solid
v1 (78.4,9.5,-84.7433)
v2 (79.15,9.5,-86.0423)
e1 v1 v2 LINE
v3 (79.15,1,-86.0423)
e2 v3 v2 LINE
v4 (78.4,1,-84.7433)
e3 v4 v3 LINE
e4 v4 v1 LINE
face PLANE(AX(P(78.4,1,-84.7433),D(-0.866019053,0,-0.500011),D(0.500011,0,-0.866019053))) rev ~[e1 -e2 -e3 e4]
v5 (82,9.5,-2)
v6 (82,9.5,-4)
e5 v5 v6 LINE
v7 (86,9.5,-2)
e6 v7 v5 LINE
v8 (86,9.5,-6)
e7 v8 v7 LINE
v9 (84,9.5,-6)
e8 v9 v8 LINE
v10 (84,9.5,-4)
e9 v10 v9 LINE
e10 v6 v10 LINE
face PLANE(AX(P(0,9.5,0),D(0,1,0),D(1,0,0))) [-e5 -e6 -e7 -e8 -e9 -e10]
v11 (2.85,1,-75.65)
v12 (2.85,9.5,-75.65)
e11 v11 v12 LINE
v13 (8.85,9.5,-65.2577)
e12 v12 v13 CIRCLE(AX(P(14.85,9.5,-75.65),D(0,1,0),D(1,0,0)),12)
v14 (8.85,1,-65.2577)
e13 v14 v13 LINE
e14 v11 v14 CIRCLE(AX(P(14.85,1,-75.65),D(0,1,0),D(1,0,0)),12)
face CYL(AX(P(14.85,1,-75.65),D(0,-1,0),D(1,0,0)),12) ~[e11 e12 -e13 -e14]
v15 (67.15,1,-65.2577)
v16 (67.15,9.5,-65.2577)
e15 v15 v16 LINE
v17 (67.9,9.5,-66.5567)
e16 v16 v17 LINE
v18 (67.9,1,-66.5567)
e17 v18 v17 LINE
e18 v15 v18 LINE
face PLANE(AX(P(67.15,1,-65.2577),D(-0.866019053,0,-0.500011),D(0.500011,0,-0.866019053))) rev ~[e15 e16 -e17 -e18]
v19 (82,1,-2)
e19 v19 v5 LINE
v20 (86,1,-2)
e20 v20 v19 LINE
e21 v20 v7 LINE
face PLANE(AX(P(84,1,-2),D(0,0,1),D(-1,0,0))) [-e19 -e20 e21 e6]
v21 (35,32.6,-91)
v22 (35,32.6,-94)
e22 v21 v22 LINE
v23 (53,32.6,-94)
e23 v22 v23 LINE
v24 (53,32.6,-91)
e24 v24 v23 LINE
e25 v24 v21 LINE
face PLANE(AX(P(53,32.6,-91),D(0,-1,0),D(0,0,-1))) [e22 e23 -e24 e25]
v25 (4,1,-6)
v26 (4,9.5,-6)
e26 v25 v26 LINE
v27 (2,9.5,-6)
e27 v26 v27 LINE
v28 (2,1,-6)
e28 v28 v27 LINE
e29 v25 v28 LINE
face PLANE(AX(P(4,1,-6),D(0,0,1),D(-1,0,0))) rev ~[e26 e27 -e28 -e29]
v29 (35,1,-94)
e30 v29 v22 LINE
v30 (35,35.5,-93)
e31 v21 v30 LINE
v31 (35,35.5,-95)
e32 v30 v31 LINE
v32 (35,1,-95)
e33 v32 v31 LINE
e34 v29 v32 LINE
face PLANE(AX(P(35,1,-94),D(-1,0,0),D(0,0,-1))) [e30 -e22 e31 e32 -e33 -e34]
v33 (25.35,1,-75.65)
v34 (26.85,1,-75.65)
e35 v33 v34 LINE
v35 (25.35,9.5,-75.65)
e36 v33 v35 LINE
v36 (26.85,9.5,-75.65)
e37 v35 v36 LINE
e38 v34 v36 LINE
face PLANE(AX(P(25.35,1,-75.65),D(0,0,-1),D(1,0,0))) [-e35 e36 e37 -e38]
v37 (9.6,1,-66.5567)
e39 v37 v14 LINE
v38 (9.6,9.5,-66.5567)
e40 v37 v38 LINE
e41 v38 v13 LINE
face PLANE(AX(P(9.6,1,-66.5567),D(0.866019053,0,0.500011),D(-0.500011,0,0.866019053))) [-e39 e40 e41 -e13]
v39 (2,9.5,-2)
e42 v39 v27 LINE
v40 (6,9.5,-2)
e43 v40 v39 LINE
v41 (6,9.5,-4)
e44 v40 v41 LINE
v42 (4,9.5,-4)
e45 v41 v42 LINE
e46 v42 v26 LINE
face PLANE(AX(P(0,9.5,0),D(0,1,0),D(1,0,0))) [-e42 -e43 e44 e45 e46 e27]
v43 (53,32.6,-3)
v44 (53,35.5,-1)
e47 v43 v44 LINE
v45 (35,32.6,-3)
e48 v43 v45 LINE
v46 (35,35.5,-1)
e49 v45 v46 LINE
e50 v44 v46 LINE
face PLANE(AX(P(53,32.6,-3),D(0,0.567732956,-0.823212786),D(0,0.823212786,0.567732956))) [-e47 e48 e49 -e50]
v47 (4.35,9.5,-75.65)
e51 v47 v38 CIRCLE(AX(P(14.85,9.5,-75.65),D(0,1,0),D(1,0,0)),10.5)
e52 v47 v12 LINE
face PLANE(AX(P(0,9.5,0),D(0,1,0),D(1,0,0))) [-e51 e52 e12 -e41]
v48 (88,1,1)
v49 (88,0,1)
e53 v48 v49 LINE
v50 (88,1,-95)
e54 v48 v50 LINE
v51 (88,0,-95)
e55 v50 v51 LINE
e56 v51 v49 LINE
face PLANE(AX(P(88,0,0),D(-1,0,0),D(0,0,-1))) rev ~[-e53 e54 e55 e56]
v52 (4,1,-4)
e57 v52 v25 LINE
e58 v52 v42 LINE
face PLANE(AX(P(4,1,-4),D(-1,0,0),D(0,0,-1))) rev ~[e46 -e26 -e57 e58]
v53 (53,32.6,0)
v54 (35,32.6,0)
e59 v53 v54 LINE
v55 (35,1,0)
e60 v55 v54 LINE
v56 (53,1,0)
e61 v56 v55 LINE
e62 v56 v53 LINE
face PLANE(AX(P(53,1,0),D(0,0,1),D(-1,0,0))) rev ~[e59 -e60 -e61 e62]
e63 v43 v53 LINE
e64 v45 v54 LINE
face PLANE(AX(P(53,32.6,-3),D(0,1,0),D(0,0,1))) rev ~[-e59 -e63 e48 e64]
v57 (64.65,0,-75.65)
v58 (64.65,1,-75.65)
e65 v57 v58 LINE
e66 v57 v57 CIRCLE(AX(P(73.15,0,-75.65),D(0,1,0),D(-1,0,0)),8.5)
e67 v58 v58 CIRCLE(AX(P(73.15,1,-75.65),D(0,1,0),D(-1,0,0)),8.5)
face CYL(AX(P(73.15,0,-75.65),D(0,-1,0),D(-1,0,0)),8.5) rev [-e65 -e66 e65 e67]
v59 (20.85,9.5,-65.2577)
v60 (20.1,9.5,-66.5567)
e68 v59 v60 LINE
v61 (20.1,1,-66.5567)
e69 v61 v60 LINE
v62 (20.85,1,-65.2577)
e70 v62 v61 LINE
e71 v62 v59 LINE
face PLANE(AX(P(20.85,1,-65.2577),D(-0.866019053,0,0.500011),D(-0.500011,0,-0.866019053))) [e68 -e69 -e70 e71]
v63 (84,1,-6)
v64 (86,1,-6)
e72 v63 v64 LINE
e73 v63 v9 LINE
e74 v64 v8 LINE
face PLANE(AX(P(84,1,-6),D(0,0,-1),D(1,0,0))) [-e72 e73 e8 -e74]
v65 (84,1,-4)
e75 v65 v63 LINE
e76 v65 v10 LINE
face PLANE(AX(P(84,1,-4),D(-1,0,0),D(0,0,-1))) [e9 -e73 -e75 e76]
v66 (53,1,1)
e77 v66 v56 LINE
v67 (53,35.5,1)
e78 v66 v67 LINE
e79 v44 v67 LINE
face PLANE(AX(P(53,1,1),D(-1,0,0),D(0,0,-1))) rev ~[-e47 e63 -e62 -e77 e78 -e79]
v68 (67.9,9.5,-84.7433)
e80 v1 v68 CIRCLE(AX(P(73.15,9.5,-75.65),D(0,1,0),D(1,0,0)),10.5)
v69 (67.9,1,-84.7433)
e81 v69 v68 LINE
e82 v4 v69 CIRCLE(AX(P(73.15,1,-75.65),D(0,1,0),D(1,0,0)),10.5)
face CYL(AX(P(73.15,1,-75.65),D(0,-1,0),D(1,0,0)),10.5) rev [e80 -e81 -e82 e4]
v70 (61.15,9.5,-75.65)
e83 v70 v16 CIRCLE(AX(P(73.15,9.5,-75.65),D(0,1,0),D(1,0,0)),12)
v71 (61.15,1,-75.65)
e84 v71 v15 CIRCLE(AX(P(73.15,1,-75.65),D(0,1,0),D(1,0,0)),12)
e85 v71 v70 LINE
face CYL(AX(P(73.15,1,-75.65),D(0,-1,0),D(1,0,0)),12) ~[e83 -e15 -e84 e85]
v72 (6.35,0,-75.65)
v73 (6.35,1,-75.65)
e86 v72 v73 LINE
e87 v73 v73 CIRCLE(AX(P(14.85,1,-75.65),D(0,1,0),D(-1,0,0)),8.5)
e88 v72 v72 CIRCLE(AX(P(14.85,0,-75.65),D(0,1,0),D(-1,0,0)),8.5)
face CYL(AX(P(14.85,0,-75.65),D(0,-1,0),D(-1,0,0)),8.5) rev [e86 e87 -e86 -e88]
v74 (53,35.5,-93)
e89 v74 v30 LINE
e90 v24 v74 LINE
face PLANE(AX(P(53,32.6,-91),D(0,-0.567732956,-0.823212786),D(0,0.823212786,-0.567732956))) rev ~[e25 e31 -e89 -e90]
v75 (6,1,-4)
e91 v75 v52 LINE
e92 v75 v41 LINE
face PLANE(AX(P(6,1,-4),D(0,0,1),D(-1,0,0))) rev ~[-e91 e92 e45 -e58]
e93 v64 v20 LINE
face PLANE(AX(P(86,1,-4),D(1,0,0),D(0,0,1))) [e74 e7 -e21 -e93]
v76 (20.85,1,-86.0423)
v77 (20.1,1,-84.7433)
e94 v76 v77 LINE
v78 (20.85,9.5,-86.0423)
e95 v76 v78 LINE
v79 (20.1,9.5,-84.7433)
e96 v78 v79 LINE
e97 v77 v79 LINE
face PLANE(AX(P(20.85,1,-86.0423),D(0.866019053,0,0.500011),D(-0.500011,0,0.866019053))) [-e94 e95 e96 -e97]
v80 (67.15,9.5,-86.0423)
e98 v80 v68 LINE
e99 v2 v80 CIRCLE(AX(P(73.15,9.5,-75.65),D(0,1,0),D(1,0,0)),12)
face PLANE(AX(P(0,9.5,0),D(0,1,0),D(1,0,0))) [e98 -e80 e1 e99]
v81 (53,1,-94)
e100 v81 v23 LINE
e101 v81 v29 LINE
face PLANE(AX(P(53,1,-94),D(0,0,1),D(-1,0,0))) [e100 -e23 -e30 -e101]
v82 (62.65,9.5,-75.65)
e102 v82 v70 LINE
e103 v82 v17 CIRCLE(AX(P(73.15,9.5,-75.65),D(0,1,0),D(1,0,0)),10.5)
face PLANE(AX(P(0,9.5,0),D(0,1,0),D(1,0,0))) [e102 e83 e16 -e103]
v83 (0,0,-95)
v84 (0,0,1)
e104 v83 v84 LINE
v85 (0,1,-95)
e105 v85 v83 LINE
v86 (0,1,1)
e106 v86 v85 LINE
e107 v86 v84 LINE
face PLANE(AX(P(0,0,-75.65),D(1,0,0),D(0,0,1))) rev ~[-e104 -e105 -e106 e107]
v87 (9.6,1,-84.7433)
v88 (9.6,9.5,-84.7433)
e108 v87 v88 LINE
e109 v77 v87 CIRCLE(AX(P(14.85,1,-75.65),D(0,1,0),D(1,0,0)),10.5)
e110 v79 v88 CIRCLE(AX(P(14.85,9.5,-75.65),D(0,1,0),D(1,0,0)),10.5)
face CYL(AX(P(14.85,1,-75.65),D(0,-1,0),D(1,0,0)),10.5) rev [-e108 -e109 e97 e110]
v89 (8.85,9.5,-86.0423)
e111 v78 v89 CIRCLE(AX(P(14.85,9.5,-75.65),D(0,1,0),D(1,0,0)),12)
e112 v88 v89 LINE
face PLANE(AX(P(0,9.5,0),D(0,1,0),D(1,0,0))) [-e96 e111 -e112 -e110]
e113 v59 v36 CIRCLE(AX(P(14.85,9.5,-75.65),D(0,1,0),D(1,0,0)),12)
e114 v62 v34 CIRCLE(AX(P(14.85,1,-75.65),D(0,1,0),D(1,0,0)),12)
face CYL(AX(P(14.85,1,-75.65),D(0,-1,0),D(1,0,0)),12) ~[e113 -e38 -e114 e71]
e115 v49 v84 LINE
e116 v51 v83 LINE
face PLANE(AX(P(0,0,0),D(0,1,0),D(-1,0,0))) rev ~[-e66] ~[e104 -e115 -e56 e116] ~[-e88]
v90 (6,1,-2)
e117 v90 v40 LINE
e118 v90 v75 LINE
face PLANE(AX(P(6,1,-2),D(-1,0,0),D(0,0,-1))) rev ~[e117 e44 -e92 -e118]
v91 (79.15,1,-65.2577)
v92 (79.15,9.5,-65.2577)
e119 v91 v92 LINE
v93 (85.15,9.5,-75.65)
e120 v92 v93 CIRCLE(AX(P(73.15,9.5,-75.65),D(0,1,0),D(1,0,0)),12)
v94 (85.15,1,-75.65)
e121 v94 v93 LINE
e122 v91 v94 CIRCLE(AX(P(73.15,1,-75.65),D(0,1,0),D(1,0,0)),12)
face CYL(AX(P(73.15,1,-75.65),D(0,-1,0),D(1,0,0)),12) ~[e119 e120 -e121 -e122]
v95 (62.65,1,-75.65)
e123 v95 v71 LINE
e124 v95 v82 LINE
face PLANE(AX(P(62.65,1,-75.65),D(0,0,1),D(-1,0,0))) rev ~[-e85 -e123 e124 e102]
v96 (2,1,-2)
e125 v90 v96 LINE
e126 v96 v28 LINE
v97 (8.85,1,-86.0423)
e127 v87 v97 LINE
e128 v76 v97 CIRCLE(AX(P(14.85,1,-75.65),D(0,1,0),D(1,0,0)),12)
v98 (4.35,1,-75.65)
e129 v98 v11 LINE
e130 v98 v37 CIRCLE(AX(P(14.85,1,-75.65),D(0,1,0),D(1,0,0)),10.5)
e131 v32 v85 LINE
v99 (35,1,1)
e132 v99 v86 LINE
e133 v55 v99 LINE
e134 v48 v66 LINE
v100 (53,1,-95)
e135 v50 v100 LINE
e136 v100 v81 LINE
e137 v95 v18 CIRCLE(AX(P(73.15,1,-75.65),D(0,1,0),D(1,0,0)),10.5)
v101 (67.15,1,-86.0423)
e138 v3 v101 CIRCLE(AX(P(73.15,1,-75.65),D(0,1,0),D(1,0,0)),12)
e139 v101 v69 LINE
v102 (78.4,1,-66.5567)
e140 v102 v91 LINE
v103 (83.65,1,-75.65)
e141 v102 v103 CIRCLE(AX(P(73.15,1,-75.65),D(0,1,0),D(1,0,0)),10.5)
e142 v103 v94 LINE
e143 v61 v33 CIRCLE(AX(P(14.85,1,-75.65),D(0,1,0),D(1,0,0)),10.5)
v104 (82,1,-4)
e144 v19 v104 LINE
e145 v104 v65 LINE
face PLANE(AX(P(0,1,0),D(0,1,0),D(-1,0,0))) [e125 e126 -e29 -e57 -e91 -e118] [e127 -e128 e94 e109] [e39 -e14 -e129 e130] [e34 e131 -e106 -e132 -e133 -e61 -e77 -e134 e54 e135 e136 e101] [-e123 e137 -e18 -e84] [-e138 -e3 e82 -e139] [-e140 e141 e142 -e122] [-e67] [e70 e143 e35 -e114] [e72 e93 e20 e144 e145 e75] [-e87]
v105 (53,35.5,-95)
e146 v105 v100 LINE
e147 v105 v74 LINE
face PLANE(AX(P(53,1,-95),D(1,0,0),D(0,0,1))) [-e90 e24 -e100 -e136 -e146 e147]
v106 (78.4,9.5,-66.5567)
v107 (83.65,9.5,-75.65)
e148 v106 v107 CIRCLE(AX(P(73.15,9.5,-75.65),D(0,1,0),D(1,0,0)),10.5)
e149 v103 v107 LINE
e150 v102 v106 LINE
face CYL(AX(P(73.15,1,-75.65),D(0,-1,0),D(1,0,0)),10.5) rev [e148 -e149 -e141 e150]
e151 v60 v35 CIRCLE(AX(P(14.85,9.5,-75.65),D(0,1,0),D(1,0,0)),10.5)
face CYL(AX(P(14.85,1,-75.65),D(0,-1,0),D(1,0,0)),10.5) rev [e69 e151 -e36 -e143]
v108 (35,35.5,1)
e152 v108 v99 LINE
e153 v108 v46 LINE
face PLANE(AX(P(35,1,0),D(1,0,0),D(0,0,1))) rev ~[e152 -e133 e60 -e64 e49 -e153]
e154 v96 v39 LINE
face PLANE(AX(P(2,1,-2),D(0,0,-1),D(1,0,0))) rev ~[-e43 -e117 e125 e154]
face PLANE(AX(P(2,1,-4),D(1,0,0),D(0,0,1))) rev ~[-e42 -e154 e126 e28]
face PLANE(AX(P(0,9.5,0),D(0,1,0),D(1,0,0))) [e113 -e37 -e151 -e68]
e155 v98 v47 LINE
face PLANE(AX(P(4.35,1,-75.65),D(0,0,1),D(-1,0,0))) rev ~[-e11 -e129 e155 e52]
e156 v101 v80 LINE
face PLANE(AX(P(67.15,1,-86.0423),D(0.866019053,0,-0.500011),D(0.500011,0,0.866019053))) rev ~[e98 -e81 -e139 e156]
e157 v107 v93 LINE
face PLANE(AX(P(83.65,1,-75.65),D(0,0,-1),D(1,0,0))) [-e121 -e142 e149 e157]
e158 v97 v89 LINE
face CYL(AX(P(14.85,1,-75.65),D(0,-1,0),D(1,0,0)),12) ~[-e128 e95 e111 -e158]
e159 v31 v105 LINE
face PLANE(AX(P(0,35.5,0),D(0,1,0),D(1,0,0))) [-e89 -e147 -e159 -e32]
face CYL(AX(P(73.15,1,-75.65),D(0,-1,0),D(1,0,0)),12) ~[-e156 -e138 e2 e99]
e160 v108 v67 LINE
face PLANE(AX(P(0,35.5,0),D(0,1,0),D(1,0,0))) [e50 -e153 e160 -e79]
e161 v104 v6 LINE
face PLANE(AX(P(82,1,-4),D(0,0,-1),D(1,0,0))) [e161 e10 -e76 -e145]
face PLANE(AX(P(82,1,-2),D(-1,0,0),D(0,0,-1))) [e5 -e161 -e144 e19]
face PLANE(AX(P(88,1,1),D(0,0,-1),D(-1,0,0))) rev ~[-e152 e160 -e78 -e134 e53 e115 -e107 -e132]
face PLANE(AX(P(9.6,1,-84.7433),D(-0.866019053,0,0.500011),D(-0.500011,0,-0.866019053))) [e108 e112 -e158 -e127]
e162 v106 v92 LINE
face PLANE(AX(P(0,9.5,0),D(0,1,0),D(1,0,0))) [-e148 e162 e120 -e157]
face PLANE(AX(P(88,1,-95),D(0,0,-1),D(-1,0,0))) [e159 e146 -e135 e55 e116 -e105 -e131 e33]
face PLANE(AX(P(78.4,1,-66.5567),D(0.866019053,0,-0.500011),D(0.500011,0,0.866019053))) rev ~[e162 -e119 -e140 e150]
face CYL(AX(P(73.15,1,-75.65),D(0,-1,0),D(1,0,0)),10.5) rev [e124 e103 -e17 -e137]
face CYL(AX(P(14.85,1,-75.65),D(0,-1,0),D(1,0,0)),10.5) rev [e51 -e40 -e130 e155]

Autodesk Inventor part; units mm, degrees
ref_plane "YZ Plane" through (0, 0, 0) normal (1, 0, 0) x (0, 1, 0)
ref_plane "XZ Plane" through (0, 0, 0) normal (0, 1, 0) x (-1, 0, 0)
ref_plane "XY Plane" through (0, 0, 0) normal (0, 0, 1) x (1, 0, 0)
sketch "Sketch1" plane through (0, 0, 0) normal (0, 1, 0) x (-1, 0, 0)
  line L0 (0, 0) -> (-88, 0)
  line L1 (-88, 0) -> (-88, -94)
  line L2 (-88, -94) -> (0, -94)
  line L3 (0, -94) -> (0, 0)
  line L4 (0, -94) -> (0, -75.65)
  line L5 (0, -94) -> (-14.85, -94)
  circle A0 centre (-14.85, -75.65) radius 8.5
  line L6 (-44, -88.9444) -> (-44, -54.2543) construction
  circle A1 centre (-73.15, -75.65) radius 8.5
  dimension "d0" = 88
  dimension "d1" = 94
  dimension "d2" = 18.35
  dimension "d3" = 14.85
  dimension "d4" = 17
extrude "Extrusion1" add sketch "Sketch1" along normal blind 1
sketch "Sketch2" plane through (0, 1, 0) normal (0, 1, 0) x (1, 0, 0)
  line L0 (88, 94) -> (0, 94) construction
  line L1 (0, 94) -> (0, 0) construction
  line L2 (0, 0) -> (88, 0) construction
  line L3 (88, 0) -> (88, 94) construction
  circle A0 centre (73.15, 75.65) radius 8.5 construction
  circle A1 centre (14.85, 75.65) radius 8.5 construction
  line L4 (0, 94) -> (88, 94) construction
  line L5 (88, 94) -> (88, 95) construction
  line L6 (88, 95) -> (0, 95) construction
  line L7 (0, 95) -> (0, 94) construction
  line L8 (0, 0) -> (88, 0) construction
  line L9 (88, 0) -> (88, -1) construction
  line L10 (88, -1) -> (0, -1) construction
  line L11 (0, -1) -> (0, 0) construction
  line L12 (88, 95) -> (0, 95)
  line L13 (0, 95) -> (0, 94)
  line L14 (0, 94) -> (88, 94)
  line L15 (88, 94) -> (88, 95)
  line L16 (0, 0) -> (88, 0)
  line L17 (88, 0) -> (88, -1)
  line L18 (88, -1) -> (0, -1)
  line L19 (0, -1) -> (0, 0)
  dimension "d7" = 1
  dimension "d8" = 1
extrude "Extrusion2" add sketch "Sketch2" against normal blind 1
sketch "Sketch3" plane through (0, 1, 0) normal (0, 1, 0) x (1, 0, 0)
  line L0 (0, 95) -> (0, -1) construction
  line L1 (0, -1) -> (88, -1) construction
  line L2 (88, -1) -> (88, 95) construction
  line L3 (88, 95) -> (0, 95) construction
  circle A0 centre (73.15, 75.65) radius 8.5 construction
  circle A1 centre (14.85, 75.65) radius 8.5 construction
  line L4 (0, 0) -> (4, 0) construction
  line L5 (4, 0) -> (4, 4) construction
  line L6 (4, 4) -> (0, 4) construction
  line L7 (0, 4) -> (0, 0) construction
  line L8 (88, 0) -> (84, 0) construction
  line L9 (84, 0) -> (84, 4) construction
  line L10 (84, 4) -> (88, 4) construction
  line L11 (88, 4) -> (88, 0) construction
  line L12 (4, 4) -> (2, 4) construction
  line L13 (2, 4) -> (2, 2) construction
  line L14 (2, 2) -> (4, 2) construction
  line L15 (4, 2) -> (4, 4) construction
  line L16 (2, 2) -> (6, 2)
  line L17 (6, 2) -> (6, 4)
  line L18 (6, 4) -> (2, 4)
  line L19 (2, 4) -> (2, 2)
  line L20 (2, 2) -> (4, 2)
  line L21 (4, 2) -> (4, 6)
  line L22 (4, 6) -> (2, 6)
  line L23 (2, 6) -> (2, 2)
  line L24 (86, 2) -> (82, 2)
  line L25 (82, 2) -> (82, 4)
  line L26 (82, 4) -> (86, 4)
  line L27 (86, 4) -> (86, 2)
  line L28 (86, 2) -> (84, 2)
  line L29 (84, 2) -> (84, 6)
  line L30 (84, 6) -> (86, 6)
  line L31 (86, 6) -> (86, 2)
  line L32 (44, 4.3599) -> (37, 4.3599) construction
  line L33 (88, -1) -> (0, -1) construction
  line L34 (37, -1) -> (51, -1) construction
  line L35 (51, -1) -> (51, 0) construction
  line L36 (51, 0) -> (37, 0) construction
  line L37 (37, 0) -> (37, -1) construction
  line L38 (37, -1) -> (51, -1)
  line L39 (51, -1) -> (51, 0)
  line L40 (51, 0) -> (37, 0)
  line L41 (37, 0) -> (37, -1)
  line L42 (0, 95) -> (88, 95) projected
  line L43 (37, 95) -> (51, 95)
  line L44 (51, 95) -> (51, 94)
  line L45 (51, 94) -> (37, 94)
  line L46 (37, 94) -> (37, 95)
  circle A2 centre (14.85, 75.65) radius 10.5
  circle A3 centre (14.85, 75.65) radius 12
  line L47 (14.85, 75.65) -> (26.85, 75.65) construction
  line L48 (14.85, 75.65) -> (20.85, 86.0423) construction
  line L49 (14.85, 75.65) -> (8.85, 86.0423) construction
  line L50 (14.85, 75.65) -> (2.85, 75.65) construction
  line L51 (14.85, 75.65) -> (8.85, 65.2577) construction
  line L52 (14.85, 75.65) -> (20.85, 65.2577) construction
  line L53 (9.6, 84.7433) -> (8.85, 86.0423) construction
  line L54 (9.6, 84.7433) -> (8.85, 86.0423)
  line L55 (20.85, 86.0423) -> (20.1, 84.7433)
  line L56 (25.35, 75.65) -> (26.85, 75.65)
  line L57 (20.85, 65.2577) -> (20.1, 66.5567)
  line L58 (9.6, 66.5567) -> (8.85, 65.2577)
  line L59 (4.35, 75.65) -> (2.85, 75.65)
  line L60 (44, 84.7433) -> (44, 74.6259) construction
  circle A4 centre (73.15, 75.65) radius 8.5 construction
  circle A5 centre (73.15, 75.65) radius 10.5
  circle A6 centre (73.15, 75.65) radius 12
  line L61 (73.15, 75.65) -> (61.15, 75.65) construction
  line L62 (73.15, 75.65) -> (67.15, 86.0423) construction
  line L63 (73.15, 75.65) -> (79.15, 86.0423) construction
  line L64 (73.15, 75.65) -> (85.15, 75.65) construction
  line L65 (73.15, 75.65) -> (79.15, 65.2577) construction
  line L66 (73.15, 75.65) -> (67.15, 65.2577) construction
  line L67 (78.4, 84.7433) -> (79.15, 86.0423) construction
  line L68 (78.4, 84.7433) -> (79.15, 86.0423)
  line L69 (67.15, 86.0423) -> (67.9, 84.7433)
  line L70 (62.65, 75.65) -> (61.15, 75.65)
  line L71 (67.15, 65.2577) -> (67.9, 66.5567)
  line L72 (78.4, 66.5567) -> (79.15, 65.2577)
  line L73 (83.65, 75.65) -> (85.15, 75.65)
  point P0 (84, 4)
  dimension "d11" = 4
  dimension "d12" = 4
  dimension "d13" = 4
  dimension "d14" = 4
  dimension "d15" = 2
  dimension "d16" = 2
  dimension "d17" = 4
  dimension "d18" = 4
  dimension "d19" = 4
  dimension "d20" = 2
  dimension "d21" = 4
  dimension "d22" = 7
  dimension "d23" = 14
  dimension "d24" = 14
  dimension "d25" = 1
  dimension "d26" = 2
  dimension "d27" = 1.5
  dimension "d30" = 360
extrude "Extrusion3" add sketch "Sketch3" along normal blind 8.5 contours L19 L18 L21 L16 | L21 L18 L17 L16 | L23 L22 L21 L18 | L24 L29 L26 L27 | L24 L25 L26 L29 | L26 L29 L30 L31 | L56 A3 L57 A2 | A2 L54 A3 L55 | L58 A3 L59 A2 | L73 A6 L72 A5 | A5 L69 A6 L68 | L71 A6 L70 A5
sketch "Sketch4" plane through (0, 1, 0) normal (0, 1, 0) x (1, 0, 0)
  line L0 (2.85, 75.65) -> (4.35, 75.65) construction
  arc A0 (4.35, 75.65) -> (9.6, 66.5567) centre (14.85, 75.65) ccw construction
  line L1 (9.6, 66.5567) -> (8.85, 65.2577) construction
  arc A1 (2.85, 75.65) -> (8.85, 65.2577) centre (14.85, 75.65) ccw construction
  line L2 (84, 6) -> (86, 6) construction
  line L3 (86, 6) -> (86, 2) construction
  line L4 (86, 2) -> (82, 2) construction
  line L5 (82, 2) -> (82, 4) construction
  line L6 (82, 4) -> (84, 4) construction
  line L7 (84, 4) -> (84, 6) construction
  arc A2 (62.65, 75.65) -> (67.9, 66.5567) centre (73.15, 75.65) ccw construction
  line L8 (67.9, 66.5567) -> (67.15, 65.2577) construction
  arc A3 (61.15, 75.65) -> (67.15, 65.2577) centre (73.15, 75.65) ccw construction
  line L9 (61.15, 75.65) -> (62.65, 75.65) construction
  line L10 (25.35, 75.65) -> (26.85, 75.65) construction
  arc A4 (20.85, 65.2577) -> (26.85, 75.65) centre (14.85, 75.65) ccw construction
  line L11 (20.85, 65.2577) -> (20.1, 66.5567) construction
  arc A5 (20.1, 66.5567) -> (25.35, 75.65) centre (14.85, 75.65) ccw construction
  arc A6 (78.4, 84.7433) -> (67.9, 84.7433) centre (73.15, 75.65) ccw construction
  line L12 (67.9, 84.7433) -> (67.15, 86.0423) construction
  arc A7 (79.15, 86.0423) -> (67.15, 86.0423) centre (73.15, 75.65) ccw construction
  line L13 (79.15, 86.0423) -> (78.4, 84.7433) construction
  line L14 (2, 6) -> (4, 6) construction
  line L15 (4, 6) -> (4, 4) construction
  line L16 (4, 4) -> (6, 4) construction
  line L17 (6, 4) -> (6, 2) construction
  line L18 (6, 2) -> (2, 2) construction
  line L19 (2, 2) -> (2, 6) construction
  line L20 (83.65, 75.65) -> (85.15, 75.65) construction
  arc A8 (79.15, 65.2577) -> (85.15, 75.65) centre (73.15, 75.65) ccw construction
  line L21 (79.15, 65.2577) -> (78.4, 66.5567) construction
  arc A9 (78.4, 66.5567) -> (83.65, 75.65) centre (73.15, 75.65) ccw construction
  line L22 (20.85, 86.0423) -> (20.1, 84.7433) construction
  arc A10 (20.1, 84.7433) -> (9.6, 84.7433) centre (14.85, 75.65) ccw construction
  line L23 (9.6, 84.7433) -> (8.85, 86.0423) construction
  arc A11 (20.85, 86.0423) -> (8.85, 86.0423) centre (14.85, 75.65) ccw construction
  line L24 (0, 95) -> (0, -1) construction
  line L25 (0, -1) -> (88, -1) construction
  line L26 (88, -1) -> (88, 95) construction
  line L27 (88, 95) -> (0, 95) construction
  circle A12 centre (73.15, 75.65) radius 8.5 construction
  circle A13 centre (14.85, 75.65) radius 8.5 construction
  line L28 (44, 63.0064) -> (44, 95) construction
  line L29 (88, 95) -> (0, 95) construction
  line L30 (44, 95) -> (53, 95) construction
  line L31 (53, 95) -> (35, 95) construction
  line L32 (35, 95) -> (53, 95) construction
  line L33 (53, 95) -> (53, 94) construction
  line L34 (53, 94) -> (35, 94) construction
  line L35 (35, 94) -> (35, 95) construction
  line L36 (35, 95) -> (53, 95)
  line L37 (53, 95) -> (53, 94)
  line L38 (53, 94) -> (35, 94)
  line L39 (35, 94) -> (35, 95)
  line L40 (34.0602, 47) -> (52.5165, 47)
  line L41 (44, -1) -> (53, -1) construction
  line L42 (53, -1) -> (35, -1) construction
  line L43 (35, -1) -> (53, -1) construction
  line L44 (53, -1) -> (53, 0) construction
  line L45 (53, 0) -> (35, 0) construction
  line L46 (35, 0) -> (35, -1) construction
  line L47 (35, -1) -> (53, -1)
  line L48 (53, -1) -> (53, 0)
  line L49 (53, 0) -> (35, 0)
  line L50 (35, 0) -> (35, -1)
  point P0 (0, 0)
  dimension "d34" = 9
  dimension "d35" = 18
  dimension "d36" = 1
extrude "Extrusion4" add sketch "Sketch4" along normal blind 34.5
sketch "Sketch5" plane through (53, 1, 1) normal (1, 0, 0) x (0, 0, -1)
  line L0 (1, 0) -> (0, 0) construction
  line L1 (1, 0) -> (1, 34.5) construction
  line L2 (0, 34.5) -> (1, 34.5) construction
  line L3 (0, 0) -> (0, 34.5) construction
  line L4 (96, -1) -> (0, -1) construction
  line L5 (96, 0) -> (96, -1) construction
  line L6 (0, 0) -> (96, 0) construction
  line L7 (0, 0) -> (0, -1) construction
  line L8 (96, 0) -> (96, 34.5) construction
  line L9 (96, 0) -> (95, 0) construction
  line L10 (96, 0) -> (96, 34.5) construction
  line L11 (95, 34.5) -> (96, 34.5) construction
  line L12 (95, 0) -> (95, 34.5) construction
  line L13 (0, 34.5) -> (0, 31.6) construction
  line L14 (1, 31.6) -> (4, 31.6) construction
  line L15 (1, 34.5) -> (2, 34.5) construction
  line L16 (2, 34.5) -> (4, 31.6) construction
  line L17 (0, 34.5) -> (2, 34.5)
  line L18 (4, 31.6) -> (2, 34.5)
  line L19 (4, 31.6) -> (0, 31.6)
  line L20 (0, 31.6) -> (0, 34.5)
  line L21 (0, -1) -> (96, -1) projected
  line L22 (48, -1) -> (48, 2.5166)
  line L23 (95, 0) -> (95, 34.5) construction
  line L24 (96, 34.5) -> (95, 34.5) construction
  line L25 (96, 0) -> (96, 34.5) construction
  line L26 (96, 34.5) -> (96, 31.6) construction
  line L27 (95, 31.6) -> (92, 31.6) construction
  line L28 (95, 34.5) -> (94, 34.5) construction
  line L29 (94, 34.5) -> (92, 31.6) construction
  line L30 (96, 34.5) -> (94, 34.5)
  line L31 (92, 31.6) -> (94, 34.5)
  line L32 (92, 31.6) -> (96, 31.6)
  line L33 (96, 31.6) -> (96, 34.5)
  point P0 (1, -1)
  dimension "d39" = 2.9
  dimension "d40" = 3
  dimension "d41" = 1
extrude "Extrusion5" add sketch "Sketch5" against normal up to surface (18 mm away)
equation "\"d42\" = d40"
properties part number "case_v1"
